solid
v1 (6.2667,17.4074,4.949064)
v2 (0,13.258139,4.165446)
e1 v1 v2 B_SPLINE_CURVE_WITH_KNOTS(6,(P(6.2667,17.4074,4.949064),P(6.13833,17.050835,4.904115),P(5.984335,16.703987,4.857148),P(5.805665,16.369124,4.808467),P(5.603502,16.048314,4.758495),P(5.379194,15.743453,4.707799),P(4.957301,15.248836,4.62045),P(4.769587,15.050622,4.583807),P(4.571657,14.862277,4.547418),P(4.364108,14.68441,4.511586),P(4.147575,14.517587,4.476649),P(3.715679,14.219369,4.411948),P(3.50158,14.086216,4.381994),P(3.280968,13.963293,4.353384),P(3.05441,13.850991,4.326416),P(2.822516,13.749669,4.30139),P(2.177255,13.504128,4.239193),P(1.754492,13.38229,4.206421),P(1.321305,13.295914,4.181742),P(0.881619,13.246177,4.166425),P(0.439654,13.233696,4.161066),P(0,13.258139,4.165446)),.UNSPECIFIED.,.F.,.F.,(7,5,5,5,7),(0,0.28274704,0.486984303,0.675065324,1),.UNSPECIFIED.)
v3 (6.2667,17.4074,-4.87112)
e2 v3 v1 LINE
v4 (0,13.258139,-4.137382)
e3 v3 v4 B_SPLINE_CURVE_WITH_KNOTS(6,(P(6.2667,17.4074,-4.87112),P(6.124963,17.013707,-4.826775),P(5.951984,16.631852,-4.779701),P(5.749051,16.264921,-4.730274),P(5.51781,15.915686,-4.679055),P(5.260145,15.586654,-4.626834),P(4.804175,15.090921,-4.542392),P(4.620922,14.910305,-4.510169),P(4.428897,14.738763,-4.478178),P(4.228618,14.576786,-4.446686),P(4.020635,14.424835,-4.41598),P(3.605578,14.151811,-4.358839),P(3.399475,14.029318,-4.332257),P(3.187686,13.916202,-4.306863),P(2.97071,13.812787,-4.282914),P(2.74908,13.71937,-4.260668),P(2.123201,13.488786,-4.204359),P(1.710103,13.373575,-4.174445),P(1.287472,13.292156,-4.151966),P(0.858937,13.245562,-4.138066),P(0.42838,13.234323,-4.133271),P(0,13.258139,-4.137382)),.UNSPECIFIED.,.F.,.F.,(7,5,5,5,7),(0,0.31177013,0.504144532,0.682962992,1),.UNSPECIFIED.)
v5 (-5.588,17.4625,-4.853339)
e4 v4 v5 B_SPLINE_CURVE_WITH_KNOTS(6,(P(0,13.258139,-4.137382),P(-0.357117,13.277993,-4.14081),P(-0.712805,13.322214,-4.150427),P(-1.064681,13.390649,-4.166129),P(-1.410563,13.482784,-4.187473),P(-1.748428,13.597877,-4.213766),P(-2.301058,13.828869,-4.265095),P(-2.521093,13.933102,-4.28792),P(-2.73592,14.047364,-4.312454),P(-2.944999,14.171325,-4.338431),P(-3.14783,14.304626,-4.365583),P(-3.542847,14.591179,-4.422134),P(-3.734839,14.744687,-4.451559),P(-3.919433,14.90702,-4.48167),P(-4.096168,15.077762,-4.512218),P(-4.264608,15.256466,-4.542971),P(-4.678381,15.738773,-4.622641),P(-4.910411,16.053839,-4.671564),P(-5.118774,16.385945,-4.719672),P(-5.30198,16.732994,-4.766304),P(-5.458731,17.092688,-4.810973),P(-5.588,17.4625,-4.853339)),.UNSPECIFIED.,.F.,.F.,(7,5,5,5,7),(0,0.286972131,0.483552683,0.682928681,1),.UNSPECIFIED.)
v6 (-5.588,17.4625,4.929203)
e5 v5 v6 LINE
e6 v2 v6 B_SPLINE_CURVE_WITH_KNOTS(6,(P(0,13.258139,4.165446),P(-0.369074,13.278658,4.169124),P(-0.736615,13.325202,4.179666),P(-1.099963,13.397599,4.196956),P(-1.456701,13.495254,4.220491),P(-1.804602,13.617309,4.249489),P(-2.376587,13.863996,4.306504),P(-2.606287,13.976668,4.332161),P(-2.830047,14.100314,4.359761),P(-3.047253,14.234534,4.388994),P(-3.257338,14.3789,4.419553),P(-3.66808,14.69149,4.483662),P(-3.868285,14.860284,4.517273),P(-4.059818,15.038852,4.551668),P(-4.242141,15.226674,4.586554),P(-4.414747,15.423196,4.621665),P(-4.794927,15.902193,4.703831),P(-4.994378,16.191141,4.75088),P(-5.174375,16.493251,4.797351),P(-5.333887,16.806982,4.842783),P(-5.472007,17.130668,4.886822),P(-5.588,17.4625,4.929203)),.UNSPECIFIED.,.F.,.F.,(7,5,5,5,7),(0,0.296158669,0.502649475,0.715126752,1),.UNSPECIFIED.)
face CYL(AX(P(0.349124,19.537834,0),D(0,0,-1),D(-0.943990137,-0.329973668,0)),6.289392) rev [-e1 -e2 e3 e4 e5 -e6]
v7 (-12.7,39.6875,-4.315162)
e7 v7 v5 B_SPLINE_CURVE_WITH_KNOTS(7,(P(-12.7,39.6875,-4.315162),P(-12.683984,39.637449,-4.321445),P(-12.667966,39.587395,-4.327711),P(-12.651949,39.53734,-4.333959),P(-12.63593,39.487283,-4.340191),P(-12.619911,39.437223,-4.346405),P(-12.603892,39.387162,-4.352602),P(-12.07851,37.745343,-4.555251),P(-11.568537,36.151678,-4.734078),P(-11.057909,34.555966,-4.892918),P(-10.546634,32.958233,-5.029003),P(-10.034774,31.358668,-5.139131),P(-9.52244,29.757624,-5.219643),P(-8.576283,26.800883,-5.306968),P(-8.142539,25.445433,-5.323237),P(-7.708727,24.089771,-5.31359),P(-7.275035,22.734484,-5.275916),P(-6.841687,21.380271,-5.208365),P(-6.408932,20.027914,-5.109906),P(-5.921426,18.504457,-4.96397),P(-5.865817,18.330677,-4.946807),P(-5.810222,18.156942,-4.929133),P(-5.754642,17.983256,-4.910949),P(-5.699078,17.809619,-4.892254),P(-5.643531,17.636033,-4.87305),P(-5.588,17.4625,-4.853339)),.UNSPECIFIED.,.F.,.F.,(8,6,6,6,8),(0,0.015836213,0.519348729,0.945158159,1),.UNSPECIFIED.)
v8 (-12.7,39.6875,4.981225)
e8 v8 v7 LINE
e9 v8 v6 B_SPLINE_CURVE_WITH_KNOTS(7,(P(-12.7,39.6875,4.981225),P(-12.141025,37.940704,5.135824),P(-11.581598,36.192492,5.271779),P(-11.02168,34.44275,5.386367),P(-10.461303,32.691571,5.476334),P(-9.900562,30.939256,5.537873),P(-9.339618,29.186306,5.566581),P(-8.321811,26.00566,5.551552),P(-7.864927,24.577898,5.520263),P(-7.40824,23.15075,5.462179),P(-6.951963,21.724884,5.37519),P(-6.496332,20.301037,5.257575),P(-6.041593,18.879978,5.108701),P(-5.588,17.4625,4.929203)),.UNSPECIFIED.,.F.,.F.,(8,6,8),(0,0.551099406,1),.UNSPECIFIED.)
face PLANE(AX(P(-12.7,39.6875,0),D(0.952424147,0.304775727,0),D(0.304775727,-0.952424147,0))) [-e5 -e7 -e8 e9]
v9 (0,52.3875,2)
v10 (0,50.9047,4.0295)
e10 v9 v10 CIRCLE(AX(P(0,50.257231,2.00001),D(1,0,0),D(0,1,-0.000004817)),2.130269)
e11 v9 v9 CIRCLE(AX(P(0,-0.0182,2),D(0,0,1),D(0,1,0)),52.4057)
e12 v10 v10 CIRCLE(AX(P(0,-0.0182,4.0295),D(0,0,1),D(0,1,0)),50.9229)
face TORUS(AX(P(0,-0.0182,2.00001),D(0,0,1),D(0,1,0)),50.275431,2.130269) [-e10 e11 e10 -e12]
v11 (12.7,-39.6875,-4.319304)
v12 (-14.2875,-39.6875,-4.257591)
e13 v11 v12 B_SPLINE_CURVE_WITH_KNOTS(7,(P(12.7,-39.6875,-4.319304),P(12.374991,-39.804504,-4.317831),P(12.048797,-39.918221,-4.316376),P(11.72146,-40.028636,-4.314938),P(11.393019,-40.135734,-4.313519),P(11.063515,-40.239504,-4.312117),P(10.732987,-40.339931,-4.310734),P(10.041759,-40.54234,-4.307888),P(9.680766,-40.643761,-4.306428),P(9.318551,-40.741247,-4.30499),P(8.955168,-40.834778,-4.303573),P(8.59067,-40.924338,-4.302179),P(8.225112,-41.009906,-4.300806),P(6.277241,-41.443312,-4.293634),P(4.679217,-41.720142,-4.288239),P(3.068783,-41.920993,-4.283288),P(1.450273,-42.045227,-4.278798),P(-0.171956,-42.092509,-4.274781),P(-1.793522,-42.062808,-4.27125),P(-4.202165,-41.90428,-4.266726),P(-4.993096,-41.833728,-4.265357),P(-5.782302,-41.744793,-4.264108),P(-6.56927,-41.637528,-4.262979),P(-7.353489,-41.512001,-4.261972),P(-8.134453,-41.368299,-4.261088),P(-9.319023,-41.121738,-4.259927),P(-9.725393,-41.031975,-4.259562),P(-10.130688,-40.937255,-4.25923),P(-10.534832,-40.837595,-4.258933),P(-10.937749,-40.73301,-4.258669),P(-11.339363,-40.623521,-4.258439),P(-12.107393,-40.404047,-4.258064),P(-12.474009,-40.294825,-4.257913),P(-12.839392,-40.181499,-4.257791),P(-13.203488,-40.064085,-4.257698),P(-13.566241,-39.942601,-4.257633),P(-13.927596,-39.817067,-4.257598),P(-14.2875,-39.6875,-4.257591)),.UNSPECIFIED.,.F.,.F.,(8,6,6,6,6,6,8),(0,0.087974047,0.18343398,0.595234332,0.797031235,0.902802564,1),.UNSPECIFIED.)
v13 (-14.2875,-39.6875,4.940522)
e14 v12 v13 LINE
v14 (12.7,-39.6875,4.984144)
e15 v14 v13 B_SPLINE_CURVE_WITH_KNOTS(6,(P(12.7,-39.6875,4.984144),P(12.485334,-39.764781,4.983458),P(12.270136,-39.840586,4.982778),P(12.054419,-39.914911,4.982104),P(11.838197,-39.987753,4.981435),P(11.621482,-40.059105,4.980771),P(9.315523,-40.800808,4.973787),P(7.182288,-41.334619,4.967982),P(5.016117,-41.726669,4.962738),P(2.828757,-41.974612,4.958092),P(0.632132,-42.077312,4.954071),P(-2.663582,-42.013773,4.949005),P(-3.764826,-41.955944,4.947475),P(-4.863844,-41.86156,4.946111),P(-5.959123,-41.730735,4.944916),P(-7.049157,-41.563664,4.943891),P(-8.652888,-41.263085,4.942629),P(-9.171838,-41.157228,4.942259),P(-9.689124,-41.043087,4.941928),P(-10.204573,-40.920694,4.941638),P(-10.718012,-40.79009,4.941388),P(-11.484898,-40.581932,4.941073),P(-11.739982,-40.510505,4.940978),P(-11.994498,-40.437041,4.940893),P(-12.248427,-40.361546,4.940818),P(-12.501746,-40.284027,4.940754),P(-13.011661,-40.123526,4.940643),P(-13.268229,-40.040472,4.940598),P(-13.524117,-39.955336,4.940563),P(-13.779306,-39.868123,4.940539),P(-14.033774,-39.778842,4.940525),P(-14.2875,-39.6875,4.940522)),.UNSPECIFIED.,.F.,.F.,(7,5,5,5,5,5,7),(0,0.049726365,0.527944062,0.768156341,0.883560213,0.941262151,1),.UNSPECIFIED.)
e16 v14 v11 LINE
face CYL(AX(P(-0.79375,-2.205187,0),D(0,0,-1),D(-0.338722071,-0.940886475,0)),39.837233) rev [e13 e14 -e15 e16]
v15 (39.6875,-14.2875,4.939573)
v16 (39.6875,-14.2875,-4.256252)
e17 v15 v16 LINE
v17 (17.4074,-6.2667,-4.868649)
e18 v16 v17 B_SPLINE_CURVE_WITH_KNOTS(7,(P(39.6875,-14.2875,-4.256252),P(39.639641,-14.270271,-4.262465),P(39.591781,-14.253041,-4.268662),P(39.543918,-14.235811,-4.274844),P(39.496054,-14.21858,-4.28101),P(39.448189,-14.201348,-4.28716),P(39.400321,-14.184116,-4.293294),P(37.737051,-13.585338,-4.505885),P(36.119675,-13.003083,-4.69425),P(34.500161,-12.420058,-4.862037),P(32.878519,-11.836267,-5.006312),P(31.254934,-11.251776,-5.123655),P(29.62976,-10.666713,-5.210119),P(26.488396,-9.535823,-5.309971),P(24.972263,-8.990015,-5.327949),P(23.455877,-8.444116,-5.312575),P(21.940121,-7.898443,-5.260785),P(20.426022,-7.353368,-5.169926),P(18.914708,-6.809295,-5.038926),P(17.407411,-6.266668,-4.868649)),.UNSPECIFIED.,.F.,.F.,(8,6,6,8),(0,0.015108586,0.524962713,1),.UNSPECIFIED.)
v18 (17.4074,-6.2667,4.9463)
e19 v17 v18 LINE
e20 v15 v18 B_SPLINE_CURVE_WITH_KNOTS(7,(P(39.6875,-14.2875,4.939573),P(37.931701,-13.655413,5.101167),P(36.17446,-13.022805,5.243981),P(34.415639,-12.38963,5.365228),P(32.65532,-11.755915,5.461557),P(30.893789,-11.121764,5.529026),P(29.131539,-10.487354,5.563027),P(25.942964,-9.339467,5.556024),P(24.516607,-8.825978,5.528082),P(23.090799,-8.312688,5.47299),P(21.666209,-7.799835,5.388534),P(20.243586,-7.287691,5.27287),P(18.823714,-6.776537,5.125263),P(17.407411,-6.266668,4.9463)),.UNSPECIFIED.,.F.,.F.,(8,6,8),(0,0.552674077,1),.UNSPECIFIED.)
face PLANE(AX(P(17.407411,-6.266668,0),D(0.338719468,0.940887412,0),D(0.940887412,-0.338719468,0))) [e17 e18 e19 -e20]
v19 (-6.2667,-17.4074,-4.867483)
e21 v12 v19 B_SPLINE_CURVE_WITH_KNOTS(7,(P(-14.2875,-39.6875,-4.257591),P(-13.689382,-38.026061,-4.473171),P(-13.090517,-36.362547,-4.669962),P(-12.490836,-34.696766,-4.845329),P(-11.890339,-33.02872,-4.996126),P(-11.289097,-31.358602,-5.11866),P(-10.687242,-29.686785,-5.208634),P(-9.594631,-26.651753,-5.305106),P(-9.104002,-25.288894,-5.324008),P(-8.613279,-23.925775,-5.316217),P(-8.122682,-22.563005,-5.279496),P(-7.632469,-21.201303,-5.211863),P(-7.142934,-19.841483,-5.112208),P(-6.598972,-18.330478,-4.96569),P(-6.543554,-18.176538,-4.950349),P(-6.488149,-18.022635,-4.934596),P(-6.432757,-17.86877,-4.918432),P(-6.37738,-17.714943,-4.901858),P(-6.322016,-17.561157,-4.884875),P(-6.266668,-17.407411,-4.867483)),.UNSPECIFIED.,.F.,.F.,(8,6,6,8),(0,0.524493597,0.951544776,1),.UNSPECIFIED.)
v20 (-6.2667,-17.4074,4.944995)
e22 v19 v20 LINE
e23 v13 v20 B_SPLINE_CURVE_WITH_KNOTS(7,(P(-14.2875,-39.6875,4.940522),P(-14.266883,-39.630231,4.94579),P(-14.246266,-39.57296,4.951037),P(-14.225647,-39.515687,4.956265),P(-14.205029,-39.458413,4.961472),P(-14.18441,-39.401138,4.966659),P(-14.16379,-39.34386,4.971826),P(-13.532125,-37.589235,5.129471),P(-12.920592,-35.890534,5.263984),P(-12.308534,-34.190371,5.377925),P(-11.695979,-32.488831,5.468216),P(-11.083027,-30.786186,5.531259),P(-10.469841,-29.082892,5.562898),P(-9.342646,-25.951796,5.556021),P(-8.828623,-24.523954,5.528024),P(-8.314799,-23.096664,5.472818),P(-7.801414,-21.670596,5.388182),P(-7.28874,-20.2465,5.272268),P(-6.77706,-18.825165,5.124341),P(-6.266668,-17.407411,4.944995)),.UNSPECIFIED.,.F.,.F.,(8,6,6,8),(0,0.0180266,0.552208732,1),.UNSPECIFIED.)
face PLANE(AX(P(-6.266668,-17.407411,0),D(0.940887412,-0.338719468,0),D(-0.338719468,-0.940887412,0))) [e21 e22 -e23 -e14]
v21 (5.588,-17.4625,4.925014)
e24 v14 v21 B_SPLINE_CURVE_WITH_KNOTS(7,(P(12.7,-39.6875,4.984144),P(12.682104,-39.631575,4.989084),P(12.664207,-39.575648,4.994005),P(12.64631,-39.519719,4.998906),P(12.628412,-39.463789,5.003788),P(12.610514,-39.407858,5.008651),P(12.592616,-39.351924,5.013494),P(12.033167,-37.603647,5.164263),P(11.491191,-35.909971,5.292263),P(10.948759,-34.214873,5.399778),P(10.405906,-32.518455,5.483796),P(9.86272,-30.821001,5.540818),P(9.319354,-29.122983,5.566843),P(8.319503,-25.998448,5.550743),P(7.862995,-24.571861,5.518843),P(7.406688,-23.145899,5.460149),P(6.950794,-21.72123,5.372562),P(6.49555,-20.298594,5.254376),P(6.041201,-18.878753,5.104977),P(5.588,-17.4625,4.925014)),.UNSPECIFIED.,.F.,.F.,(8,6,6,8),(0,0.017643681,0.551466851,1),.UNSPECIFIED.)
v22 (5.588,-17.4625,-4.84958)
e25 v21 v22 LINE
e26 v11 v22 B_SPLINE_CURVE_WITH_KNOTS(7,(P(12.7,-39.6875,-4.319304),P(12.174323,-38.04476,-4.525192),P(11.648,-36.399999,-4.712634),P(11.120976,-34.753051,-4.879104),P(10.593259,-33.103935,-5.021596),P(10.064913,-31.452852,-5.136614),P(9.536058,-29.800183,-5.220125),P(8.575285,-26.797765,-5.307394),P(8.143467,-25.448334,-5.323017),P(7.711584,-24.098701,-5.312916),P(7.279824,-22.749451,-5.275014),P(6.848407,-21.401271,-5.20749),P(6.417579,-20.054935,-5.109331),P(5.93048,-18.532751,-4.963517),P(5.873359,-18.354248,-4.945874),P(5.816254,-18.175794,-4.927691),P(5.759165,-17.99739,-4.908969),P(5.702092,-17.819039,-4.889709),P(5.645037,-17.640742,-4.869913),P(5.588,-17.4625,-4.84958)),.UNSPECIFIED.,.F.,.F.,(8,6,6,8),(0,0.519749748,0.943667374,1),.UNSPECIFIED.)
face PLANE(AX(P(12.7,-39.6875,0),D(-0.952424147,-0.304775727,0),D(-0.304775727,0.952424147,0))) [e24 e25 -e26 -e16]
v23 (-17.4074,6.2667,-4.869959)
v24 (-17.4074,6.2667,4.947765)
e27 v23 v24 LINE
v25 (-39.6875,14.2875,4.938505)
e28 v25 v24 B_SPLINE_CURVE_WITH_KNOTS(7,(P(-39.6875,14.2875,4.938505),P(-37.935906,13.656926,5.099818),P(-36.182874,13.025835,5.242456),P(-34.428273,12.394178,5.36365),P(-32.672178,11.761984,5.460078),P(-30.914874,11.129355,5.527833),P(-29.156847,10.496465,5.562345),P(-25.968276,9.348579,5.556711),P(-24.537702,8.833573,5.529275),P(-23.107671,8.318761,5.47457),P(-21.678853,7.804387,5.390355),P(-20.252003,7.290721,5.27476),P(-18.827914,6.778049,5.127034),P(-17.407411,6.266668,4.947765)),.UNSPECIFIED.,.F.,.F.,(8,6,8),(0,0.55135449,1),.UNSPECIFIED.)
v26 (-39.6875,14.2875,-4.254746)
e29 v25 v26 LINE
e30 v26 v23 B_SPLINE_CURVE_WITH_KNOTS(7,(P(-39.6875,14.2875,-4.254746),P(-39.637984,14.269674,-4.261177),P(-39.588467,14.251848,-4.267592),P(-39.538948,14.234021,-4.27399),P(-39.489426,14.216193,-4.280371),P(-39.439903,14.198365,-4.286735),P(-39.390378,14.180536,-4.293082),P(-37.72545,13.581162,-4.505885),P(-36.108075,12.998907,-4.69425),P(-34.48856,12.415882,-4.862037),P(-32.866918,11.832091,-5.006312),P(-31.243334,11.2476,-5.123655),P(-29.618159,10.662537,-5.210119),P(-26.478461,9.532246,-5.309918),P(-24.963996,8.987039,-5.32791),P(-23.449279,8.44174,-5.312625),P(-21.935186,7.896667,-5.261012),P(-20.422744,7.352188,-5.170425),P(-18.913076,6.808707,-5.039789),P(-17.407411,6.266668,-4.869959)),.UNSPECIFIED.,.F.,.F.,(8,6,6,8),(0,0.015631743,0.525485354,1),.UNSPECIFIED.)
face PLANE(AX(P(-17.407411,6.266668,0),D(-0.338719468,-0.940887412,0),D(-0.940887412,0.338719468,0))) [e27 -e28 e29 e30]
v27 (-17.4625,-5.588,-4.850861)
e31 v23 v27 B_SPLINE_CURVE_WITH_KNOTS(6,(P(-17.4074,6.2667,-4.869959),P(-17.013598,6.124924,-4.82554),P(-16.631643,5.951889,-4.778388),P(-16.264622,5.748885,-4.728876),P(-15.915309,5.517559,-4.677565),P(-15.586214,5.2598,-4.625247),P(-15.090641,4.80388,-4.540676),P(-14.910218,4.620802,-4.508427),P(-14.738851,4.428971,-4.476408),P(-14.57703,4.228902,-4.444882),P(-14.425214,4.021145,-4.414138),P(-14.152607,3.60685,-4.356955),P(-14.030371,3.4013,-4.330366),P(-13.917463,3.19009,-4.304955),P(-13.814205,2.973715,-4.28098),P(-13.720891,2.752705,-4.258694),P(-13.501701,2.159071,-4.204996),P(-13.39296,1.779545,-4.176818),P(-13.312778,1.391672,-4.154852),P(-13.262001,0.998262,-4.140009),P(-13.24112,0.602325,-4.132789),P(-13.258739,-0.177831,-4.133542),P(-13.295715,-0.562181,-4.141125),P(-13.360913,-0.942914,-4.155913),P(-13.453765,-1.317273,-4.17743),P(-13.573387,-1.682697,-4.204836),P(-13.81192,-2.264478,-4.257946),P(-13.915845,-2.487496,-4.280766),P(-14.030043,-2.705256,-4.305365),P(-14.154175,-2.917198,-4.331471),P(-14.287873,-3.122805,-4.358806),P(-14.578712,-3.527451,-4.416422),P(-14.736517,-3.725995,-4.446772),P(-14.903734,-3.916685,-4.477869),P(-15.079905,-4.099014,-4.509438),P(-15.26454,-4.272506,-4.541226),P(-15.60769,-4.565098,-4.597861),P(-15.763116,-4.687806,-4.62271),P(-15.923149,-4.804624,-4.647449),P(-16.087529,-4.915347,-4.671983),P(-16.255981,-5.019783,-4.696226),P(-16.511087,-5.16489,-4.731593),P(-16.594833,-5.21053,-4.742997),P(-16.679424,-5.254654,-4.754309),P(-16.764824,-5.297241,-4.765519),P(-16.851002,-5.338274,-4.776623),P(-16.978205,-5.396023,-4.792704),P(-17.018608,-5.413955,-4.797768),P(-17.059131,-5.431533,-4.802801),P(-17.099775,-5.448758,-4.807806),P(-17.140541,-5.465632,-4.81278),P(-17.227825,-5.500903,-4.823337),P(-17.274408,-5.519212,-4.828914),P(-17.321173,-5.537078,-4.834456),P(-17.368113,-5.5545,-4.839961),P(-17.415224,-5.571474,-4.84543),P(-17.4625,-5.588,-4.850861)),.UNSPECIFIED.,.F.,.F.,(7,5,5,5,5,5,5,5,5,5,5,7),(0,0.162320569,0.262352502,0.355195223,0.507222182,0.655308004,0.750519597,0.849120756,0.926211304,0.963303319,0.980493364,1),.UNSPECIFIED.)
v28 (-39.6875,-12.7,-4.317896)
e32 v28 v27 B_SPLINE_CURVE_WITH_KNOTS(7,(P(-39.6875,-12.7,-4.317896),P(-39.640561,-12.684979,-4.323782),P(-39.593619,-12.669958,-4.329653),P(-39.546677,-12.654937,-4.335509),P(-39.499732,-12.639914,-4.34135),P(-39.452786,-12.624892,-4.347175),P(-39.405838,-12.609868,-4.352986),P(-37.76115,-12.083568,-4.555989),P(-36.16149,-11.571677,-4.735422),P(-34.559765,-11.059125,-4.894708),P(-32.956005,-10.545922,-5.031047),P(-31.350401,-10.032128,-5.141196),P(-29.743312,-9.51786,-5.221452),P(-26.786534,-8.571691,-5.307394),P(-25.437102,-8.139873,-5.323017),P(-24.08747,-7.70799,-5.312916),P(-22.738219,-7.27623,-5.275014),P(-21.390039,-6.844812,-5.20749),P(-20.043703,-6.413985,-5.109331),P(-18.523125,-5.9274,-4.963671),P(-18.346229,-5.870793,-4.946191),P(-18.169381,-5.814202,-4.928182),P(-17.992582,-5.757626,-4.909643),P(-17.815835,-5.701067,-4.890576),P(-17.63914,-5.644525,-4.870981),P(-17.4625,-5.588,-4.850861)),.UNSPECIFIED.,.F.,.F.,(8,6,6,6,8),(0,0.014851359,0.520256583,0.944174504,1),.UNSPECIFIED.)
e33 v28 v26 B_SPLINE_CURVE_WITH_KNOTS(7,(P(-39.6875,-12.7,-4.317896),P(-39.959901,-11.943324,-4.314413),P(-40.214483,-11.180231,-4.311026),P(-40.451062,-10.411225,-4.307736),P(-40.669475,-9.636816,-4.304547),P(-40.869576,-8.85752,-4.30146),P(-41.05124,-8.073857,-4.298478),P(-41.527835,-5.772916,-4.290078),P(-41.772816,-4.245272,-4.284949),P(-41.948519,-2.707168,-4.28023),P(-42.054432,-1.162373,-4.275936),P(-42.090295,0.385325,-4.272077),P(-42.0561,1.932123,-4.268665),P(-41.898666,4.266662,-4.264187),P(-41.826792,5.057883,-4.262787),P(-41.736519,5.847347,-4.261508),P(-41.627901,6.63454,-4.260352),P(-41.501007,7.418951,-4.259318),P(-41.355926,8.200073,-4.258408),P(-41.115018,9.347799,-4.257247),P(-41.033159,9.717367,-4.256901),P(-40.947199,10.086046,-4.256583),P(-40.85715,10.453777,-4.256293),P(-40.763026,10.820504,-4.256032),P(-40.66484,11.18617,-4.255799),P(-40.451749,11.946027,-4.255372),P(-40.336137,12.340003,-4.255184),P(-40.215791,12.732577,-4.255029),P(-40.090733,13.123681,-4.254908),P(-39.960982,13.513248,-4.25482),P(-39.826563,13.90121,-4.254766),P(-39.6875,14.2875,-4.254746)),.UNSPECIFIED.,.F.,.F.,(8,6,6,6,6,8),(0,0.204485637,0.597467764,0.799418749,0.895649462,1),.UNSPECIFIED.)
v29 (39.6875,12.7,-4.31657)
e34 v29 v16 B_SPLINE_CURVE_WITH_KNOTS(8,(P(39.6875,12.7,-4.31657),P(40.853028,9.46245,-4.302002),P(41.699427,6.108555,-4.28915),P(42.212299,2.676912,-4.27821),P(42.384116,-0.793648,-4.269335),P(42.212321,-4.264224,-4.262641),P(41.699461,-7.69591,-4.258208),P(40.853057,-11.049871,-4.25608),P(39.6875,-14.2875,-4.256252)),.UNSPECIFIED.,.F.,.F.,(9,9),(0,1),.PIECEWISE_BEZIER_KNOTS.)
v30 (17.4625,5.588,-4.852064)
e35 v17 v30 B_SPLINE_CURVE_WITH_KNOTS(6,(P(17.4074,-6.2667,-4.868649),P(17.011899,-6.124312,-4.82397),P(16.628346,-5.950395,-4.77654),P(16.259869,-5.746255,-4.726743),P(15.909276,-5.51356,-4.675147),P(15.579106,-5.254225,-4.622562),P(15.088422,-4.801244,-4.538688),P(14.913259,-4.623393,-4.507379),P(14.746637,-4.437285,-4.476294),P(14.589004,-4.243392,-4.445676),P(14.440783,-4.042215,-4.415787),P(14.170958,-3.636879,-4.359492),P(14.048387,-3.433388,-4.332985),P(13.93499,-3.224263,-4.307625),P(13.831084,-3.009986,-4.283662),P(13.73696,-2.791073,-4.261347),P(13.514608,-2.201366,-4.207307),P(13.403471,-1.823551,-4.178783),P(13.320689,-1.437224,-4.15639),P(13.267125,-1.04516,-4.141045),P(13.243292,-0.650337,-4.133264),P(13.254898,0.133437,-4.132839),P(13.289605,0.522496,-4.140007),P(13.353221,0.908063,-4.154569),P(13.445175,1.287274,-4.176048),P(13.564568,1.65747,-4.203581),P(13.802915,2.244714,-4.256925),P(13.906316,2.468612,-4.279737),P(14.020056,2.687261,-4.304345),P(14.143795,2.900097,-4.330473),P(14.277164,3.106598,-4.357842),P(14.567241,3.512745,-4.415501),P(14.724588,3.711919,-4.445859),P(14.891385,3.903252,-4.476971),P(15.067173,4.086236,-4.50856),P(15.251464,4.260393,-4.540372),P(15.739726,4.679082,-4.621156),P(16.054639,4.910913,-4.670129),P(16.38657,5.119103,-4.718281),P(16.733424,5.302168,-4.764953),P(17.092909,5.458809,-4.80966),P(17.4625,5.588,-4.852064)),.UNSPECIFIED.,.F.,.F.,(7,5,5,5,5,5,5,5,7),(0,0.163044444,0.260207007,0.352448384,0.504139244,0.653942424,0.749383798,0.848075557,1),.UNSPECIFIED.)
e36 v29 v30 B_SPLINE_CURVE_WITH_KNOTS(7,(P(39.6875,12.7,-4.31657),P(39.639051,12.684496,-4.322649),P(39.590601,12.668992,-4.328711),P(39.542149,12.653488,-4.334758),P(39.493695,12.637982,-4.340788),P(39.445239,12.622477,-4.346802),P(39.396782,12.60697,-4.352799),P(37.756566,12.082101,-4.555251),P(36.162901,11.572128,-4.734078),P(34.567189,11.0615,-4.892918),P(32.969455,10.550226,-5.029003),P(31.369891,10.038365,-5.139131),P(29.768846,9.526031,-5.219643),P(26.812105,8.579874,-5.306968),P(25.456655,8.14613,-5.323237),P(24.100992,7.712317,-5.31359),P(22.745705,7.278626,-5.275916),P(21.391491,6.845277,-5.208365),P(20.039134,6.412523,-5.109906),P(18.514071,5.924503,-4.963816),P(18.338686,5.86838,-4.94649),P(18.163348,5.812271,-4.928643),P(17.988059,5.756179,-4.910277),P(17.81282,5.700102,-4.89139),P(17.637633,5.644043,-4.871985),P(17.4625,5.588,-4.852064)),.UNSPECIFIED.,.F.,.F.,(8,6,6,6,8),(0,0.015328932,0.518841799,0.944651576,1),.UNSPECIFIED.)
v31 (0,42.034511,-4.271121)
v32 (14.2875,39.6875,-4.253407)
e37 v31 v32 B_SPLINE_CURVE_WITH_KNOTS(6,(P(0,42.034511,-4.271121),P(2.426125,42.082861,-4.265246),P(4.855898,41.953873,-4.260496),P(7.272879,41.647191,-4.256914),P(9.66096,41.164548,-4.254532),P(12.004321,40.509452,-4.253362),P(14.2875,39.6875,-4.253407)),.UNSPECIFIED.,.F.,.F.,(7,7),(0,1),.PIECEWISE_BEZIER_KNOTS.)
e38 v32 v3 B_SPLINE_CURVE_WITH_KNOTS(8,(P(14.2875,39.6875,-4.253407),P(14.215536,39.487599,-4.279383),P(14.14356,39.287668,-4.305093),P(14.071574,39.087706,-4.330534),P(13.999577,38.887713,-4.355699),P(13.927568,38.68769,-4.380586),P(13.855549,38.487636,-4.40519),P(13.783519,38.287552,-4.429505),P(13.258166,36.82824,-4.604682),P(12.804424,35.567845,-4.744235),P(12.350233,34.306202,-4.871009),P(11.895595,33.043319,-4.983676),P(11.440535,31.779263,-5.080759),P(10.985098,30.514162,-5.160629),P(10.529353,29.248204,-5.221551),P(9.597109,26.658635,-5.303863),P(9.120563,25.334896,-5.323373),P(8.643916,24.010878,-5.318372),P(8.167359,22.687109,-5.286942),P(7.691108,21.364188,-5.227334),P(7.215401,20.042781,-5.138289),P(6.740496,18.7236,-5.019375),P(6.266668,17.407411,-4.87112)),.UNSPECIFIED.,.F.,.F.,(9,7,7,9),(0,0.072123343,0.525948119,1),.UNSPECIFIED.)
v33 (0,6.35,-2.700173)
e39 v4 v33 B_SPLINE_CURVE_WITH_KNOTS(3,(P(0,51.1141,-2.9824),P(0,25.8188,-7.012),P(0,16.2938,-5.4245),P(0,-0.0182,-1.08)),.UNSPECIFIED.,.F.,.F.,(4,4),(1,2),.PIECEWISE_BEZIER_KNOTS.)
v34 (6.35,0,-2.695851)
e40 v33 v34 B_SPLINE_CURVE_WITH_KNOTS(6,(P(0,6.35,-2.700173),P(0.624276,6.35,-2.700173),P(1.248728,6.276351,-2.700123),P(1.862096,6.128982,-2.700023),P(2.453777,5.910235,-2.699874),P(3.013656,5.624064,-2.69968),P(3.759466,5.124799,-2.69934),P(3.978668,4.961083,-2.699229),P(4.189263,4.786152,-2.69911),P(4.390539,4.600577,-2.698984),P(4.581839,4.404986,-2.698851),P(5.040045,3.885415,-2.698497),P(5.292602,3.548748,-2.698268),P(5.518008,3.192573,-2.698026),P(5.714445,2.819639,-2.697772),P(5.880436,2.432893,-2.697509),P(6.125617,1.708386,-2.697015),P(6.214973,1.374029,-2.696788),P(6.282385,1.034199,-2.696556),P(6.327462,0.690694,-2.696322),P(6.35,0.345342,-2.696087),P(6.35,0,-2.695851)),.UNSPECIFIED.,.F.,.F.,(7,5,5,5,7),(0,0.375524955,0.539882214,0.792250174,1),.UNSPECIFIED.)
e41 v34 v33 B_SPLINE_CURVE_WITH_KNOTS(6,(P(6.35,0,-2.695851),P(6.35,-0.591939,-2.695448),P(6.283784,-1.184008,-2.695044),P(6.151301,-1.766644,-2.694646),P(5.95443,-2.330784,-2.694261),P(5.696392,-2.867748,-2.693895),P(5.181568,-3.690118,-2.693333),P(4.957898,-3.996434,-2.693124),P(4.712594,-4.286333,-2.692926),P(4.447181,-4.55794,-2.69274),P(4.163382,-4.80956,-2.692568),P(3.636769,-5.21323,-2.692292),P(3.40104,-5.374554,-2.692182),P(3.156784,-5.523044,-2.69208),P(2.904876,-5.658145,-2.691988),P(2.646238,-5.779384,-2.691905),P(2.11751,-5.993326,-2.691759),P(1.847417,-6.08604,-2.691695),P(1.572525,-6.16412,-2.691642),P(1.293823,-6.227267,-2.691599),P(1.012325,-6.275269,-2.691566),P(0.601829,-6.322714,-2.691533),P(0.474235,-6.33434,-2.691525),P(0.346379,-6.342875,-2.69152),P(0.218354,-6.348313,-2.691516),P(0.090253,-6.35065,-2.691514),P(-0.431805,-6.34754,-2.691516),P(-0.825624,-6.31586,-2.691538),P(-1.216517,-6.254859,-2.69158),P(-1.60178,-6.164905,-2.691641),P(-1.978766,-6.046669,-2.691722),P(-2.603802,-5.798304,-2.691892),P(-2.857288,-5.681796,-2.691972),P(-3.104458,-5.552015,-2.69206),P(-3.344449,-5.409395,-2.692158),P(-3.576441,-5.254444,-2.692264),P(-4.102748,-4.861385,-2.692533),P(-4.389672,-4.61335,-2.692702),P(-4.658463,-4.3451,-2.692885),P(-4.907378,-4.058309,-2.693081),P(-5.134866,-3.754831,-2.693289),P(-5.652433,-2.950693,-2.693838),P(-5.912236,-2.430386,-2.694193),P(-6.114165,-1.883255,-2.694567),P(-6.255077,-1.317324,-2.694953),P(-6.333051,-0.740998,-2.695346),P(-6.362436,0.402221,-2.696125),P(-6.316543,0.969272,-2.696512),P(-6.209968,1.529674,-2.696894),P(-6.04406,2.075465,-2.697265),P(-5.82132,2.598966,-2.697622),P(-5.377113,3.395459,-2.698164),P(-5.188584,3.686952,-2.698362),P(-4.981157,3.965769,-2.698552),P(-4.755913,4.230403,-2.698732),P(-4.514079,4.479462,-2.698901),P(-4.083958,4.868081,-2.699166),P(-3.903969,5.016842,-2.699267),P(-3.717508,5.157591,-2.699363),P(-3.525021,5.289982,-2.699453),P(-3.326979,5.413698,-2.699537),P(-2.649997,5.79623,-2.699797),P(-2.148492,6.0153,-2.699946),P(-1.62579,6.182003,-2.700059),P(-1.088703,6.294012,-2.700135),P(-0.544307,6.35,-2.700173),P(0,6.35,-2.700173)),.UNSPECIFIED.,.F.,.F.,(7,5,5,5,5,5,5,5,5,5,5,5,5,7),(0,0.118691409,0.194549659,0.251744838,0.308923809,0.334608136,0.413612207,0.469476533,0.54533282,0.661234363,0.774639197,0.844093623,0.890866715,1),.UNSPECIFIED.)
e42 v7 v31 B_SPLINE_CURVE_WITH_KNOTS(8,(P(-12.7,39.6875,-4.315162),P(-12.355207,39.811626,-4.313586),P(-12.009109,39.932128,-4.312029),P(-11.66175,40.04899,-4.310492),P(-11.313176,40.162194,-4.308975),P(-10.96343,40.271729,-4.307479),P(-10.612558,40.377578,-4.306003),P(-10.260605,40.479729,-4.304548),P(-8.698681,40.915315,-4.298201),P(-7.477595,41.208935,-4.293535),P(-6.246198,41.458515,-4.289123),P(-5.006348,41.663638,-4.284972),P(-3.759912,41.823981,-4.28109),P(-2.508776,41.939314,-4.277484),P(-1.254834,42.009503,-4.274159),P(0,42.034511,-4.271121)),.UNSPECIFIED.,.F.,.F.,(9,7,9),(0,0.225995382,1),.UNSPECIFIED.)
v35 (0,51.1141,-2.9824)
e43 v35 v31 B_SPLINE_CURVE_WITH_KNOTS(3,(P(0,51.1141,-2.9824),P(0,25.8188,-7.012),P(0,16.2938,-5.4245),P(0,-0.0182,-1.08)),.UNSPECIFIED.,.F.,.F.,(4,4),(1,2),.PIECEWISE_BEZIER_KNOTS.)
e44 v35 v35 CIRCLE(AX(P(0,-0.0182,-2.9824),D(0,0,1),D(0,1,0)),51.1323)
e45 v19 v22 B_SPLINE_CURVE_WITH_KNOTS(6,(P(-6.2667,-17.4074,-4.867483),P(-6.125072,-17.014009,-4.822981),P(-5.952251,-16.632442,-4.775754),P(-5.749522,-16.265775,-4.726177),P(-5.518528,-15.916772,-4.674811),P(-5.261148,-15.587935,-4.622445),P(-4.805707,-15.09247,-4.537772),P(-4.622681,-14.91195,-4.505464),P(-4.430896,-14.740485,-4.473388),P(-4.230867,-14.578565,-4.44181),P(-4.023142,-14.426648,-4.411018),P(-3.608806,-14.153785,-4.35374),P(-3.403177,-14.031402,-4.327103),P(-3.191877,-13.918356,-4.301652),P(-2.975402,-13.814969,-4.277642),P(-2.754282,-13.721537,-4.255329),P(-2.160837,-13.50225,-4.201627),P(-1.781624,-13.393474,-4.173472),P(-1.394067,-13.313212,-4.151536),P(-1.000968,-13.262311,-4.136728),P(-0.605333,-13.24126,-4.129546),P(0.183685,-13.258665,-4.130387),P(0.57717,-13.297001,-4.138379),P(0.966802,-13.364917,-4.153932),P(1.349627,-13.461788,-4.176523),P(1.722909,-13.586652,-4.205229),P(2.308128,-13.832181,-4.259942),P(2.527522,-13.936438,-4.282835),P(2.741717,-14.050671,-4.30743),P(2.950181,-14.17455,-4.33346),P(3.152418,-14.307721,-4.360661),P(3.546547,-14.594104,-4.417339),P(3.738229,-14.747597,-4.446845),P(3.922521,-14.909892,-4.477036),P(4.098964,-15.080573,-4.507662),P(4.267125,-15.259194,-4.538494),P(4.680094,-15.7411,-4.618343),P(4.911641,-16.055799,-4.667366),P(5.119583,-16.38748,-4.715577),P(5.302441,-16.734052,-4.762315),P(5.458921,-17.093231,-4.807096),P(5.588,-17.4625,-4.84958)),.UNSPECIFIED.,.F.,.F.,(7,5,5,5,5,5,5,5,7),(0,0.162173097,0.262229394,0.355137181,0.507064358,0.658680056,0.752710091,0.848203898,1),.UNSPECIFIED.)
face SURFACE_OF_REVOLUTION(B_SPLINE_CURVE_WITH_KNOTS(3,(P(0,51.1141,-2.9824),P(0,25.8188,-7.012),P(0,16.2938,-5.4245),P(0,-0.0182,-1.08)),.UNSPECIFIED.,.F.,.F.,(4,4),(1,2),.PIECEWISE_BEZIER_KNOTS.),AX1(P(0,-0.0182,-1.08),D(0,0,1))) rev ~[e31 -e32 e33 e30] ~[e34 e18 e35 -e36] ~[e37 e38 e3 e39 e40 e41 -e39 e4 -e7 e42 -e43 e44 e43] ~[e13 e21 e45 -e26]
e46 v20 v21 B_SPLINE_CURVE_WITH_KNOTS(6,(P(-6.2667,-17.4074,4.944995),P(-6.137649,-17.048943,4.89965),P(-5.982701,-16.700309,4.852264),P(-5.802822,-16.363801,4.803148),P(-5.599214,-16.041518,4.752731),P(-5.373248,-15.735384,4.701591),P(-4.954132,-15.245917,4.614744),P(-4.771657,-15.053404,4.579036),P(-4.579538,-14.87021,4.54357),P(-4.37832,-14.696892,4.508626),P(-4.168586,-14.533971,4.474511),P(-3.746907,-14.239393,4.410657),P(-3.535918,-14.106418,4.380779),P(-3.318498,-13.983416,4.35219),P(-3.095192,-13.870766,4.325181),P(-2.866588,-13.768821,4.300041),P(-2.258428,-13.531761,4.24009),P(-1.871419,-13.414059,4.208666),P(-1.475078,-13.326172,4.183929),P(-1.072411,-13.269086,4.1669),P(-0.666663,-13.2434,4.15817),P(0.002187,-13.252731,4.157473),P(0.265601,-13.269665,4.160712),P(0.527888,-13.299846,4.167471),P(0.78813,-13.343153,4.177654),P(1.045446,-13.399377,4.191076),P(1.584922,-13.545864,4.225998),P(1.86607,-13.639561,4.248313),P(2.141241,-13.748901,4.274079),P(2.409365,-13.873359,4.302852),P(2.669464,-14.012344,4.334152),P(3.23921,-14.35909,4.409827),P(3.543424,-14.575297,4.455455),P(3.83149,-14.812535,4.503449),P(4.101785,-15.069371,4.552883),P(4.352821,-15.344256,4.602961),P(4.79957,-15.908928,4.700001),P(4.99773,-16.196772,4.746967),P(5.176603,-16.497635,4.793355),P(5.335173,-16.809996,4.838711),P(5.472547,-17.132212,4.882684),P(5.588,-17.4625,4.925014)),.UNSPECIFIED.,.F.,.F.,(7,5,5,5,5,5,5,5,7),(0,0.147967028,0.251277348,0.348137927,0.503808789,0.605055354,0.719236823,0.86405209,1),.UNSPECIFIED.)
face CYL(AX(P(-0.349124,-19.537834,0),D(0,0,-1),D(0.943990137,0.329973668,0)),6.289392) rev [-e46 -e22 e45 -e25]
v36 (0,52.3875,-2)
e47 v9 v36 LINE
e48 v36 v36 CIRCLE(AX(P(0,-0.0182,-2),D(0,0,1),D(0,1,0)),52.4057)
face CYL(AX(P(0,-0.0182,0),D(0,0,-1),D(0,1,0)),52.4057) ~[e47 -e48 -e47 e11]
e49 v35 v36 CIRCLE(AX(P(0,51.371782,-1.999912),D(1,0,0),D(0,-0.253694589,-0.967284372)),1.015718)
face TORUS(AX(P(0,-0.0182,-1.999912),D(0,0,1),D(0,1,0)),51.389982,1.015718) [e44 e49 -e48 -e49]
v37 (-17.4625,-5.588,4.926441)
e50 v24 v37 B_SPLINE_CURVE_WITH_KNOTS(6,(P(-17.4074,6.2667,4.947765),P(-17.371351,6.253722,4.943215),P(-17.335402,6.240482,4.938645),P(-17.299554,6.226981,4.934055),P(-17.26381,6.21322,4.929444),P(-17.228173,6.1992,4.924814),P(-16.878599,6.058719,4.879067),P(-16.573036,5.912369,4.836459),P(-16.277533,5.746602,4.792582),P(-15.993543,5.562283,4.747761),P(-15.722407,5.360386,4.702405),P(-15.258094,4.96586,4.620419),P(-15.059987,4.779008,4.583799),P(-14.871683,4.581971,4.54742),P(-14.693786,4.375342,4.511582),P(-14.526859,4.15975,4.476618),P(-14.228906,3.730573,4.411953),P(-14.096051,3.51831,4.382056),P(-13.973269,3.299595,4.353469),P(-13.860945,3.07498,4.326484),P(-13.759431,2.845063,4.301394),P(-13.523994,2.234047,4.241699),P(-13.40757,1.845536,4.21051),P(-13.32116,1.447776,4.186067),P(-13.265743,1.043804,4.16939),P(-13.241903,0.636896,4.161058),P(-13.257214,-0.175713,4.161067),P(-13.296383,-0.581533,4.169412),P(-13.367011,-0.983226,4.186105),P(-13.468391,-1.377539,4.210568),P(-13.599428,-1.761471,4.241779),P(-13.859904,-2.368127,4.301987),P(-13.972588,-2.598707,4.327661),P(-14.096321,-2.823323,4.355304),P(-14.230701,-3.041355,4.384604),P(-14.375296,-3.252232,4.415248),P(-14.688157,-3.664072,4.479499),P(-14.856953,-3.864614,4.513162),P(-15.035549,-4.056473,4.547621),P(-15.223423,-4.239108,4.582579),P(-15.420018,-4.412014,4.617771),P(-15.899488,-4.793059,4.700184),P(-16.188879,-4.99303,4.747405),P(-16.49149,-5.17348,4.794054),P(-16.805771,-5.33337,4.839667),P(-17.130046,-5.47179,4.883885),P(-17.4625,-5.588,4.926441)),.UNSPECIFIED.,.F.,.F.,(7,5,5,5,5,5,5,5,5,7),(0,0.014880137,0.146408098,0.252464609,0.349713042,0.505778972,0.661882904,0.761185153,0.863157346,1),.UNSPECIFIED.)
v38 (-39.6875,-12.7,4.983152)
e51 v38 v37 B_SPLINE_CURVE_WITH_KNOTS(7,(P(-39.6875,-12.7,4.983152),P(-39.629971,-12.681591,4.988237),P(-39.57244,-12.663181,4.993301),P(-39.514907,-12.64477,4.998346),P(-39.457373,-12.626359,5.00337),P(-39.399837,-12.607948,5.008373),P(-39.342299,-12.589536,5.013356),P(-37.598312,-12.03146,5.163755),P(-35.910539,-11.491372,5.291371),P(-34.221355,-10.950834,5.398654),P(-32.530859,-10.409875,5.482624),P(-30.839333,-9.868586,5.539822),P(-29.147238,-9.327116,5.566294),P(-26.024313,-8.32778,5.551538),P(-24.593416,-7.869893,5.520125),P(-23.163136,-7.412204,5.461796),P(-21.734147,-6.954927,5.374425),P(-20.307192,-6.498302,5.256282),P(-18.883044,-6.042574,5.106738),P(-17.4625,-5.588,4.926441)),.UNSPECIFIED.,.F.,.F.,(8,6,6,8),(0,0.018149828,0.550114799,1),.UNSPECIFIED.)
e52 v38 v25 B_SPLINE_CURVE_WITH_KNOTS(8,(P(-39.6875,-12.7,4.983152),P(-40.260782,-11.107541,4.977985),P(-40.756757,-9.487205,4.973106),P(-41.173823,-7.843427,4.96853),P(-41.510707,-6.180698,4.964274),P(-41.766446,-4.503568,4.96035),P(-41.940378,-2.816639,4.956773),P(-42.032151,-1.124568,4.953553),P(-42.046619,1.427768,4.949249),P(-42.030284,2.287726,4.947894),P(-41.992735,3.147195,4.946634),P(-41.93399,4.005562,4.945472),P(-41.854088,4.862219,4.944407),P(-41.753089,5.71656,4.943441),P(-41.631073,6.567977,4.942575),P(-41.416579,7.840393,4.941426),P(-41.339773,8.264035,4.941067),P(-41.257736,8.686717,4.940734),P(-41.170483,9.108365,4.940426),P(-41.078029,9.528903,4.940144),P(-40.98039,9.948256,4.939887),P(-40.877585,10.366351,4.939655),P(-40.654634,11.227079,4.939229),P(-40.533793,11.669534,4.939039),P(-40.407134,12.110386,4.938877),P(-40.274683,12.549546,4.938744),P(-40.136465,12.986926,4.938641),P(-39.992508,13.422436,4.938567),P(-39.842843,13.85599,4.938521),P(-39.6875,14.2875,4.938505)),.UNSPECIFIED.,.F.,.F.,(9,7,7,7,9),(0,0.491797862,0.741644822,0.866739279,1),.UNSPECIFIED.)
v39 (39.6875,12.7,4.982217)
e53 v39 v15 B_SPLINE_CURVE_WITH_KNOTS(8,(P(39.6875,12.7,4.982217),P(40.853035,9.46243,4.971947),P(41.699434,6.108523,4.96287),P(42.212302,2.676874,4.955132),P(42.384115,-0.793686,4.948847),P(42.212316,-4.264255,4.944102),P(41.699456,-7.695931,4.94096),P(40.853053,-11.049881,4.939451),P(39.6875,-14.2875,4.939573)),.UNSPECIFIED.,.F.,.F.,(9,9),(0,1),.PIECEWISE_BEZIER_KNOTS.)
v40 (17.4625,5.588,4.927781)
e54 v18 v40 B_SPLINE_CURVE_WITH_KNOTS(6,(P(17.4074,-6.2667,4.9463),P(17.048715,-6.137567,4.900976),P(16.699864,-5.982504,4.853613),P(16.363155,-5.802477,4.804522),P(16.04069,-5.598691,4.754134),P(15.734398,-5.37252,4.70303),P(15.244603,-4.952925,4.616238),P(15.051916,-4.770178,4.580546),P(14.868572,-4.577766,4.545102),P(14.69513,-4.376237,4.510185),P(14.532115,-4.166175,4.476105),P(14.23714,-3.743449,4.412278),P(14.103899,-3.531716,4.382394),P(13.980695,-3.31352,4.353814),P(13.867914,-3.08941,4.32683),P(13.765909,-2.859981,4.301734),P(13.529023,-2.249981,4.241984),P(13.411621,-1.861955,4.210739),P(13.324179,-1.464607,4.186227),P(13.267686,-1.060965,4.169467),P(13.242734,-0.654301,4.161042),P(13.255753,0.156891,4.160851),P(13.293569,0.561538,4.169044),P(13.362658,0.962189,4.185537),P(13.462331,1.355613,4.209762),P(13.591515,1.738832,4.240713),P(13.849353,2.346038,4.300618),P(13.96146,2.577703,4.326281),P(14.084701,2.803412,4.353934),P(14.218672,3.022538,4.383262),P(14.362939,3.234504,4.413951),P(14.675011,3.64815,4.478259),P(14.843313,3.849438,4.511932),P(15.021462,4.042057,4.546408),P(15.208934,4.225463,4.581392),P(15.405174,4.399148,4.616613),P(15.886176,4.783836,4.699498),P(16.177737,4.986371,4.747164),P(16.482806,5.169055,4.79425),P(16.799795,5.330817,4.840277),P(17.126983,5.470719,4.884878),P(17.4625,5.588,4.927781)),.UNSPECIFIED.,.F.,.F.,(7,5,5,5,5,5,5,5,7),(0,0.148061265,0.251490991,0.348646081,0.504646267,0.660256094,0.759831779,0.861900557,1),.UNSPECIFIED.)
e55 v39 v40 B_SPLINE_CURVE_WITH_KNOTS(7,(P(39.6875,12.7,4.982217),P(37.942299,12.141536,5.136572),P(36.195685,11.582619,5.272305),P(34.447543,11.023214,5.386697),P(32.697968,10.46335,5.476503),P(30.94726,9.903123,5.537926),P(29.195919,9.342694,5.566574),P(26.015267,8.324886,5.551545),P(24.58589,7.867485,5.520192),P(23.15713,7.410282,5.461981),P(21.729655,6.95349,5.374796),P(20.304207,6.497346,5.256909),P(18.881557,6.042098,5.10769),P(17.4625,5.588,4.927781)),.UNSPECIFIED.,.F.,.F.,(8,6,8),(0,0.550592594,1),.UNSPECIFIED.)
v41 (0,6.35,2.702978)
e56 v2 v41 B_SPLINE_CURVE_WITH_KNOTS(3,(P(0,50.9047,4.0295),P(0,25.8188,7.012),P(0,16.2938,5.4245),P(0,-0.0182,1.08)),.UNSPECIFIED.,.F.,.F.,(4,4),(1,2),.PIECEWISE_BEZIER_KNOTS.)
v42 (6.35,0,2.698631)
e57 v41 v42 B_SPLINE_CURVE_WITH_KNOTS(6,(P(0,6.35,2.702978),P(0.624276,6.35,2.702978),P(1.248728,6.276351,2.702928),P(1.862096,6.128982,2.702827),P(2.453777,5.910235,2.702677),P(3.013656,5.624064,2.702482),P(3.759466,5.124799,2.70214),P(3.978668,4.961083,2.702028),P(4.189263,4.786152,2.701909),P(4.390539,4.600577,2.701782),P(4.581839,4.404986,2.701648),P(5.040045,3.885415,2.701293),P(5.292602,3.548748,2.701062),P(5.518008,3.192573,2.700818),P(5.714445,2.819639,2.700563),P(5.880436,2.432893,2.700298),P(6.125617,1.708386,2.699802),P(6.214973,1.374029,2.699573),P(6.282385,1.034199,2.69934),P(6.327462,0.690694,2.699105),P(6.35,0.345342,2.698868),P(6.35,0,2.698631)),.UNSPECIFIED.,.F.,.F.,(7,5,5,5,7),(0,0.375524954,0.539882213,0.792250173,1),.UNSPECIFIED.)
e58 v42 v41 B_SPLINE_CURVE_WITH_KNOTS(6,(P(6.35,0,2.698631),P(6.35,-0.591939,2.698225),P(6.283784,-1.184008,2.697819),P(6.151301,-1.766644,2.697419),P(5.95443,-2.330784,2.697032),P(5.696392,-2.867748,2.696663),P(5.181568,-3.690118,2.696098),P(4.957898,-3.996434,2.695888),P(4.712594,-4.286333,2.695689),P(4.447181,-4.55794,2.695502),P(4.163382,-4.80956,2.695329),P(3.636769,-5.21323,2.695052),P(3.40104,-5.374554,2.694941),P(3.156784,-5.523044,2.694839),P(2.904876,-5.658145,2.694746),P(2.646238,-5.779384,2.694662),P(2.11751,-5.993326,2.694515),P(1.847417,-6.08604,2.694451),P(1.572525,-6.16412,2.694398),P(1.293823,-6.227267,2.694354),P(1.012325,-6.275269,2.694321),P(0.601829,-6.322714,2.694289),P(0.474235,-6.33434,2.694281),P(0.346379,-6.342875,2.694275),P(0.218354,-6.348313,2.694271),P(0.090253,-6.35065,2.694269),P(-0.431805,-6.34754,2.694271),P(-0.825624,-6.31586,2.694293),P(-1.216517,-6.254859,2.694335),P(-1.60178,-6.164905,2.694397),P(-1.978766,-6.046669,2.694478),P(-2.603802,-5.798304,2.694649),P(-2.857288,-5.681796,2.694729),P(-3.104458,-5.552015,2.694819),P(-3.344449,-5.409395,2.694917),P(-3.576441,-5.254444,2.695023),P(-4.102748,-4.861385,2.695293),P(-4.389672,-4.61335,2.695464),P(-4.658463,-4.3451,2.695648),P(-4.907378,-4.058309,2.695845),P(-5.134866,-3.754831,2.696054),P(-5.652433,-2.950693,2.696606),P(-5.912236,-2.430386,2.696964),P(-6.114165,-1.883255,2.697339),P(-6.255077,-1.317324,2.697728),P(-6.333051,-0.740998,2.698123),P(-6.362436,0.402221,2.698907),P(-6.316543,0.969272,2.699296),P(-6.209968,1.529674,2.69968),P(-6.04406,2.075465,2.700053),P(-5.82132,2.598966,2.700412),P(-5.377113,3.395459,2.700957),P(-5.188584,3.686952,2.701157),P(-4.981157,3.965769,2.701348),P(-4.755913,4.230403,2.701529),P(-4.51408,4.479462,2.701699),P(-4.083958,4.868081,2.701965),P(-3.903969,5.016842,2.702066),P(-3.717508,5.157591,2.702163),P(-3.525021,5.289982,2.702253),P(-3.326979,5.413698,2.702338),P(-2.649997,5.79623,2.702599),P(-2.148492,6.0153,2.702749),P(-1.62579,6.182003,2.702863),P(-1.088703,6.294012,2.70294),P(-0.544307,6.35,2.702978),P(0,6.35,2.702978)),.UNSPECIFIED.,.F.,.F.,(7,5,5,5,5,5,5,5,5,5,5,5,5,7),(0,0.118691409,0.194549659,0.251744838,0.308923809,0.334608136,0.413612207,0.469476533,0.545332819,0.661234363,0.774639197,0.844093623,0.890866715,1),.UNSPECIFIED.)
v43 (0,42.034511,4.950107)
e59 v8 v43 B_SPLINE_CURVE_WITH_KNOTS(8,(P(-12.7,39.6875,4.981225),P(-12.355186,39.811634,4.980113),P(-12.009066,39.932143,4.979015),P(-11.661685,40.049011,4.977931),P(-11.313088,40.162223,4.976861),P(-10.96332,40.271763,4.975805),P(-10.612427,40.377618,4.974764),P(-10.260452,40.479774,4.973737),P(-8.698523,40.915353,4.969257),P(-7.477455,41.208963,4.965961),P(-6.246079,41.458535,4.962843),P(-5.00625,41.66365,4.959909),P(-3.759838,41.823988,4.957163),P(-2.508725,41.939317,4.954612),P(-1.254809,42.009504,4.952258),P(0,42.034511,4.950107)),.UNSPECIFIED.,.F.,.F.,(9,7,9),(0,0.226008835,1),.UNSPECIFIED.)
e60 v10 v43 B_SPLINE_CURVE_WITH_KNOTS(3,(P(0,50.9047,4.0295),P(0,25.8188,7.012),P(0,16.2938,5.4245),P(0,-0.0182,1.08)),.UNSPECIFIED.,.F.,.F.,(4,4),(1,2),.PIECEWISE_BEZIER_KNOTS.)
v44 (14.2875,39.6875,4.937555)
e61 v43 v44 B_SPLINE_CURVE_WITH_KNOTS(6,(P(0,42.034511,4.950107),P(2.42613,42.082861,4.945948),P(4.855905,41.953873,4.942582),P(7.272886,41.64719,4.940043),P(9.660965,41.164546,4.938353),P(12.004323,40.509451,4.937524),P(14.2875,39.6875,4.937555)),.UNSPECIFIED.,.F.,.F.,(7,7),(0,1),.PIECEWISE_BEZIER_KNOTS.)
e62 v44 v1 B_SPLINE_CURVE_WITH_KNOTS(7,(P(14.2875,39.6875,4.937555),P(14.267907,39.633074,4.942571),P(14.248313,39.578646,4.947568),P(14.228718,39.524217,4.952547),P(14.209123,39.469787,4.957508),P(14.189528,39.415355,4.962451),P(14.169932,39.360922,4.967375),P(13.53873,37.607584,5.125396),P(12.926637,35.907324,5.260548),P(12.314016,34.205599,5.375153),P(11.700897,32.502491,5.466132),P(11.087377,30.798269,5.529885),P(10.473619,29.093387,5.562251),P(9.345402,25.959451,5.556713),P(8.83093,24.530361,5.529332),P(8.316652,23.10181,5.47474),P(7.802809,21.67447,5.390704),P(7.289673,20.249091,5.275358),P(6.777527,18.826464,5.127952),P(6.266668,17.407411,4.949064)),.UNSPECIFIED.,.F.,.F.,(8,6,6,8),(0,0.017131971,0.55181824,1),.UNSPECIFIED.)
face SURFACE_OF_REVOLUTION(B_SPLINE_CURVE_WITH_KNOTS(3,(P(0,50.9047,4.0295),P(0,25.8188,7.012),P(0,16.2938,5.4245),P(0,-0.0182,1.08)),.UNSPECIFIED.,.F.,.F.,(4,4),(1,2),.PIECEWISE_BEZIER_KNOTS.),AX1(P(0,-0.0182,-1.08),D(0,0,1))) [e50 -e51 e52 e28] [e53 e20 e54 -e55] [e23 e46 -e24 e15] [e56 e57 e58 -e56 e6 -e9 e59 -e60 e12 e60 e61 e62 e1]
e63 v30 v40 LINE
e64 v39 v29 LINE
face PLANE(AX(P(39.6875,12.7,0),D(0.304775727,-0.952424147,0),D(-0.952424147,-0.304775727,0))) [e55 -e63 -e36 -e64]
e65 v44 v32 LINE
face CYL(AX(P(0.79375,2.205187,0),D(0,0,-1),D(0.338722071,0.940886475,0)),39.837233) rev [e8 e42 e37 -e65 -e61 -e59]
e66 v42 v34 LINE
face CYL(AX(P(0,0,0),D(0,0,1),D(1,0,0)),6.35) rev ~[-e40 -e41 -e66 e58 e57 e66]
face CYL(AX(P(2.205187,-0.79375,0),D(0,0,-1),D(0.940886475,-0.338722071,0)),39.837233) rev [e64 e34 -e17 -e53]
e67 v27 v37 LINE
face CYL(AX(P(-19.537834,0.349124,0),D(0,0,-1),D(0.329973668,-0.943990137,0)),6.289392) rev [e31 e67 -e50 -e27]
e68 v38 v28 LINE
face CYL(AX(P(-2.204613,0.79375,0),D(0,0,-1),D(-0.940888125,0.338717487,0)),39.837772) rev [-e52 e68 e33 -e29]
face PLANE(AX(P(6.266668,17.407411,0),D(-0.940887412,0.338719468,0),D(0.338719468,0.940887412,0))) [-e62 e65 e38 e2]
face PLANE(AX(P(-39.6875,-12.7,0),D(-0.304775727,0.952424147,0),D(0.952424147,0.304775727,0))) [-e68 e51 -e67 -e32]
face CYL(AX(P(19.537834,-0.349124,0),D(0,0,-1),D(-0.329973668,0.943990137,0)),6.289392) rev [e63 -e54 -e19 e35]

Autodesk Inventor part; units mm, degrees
ref_plane "YZ Plane" through (0, 0, 0) normal (1, 0, 0) x (0, 1, 0)
ref_plane "XZ Plane" through (0, 0, 0) normal (0, 1, 0) x (-1, 0, 0)
ref_plane "XY Plane" through (0, 0, 0) normal (0, 0, 1) x (1, 0, 0)
sketch "Sketch1" plane through (0, 0, 0) normal (1, 0, 0) x (0, 1, 0)
  line L0 (52.3875, 0) -> (52.3875, 2)
  line L1 (52.3875, 0) -> (52.3875, -2)
  arc A0 (52.3875, 2) -> (50.9047, 4.0295) centre (50.2572, 2) ccw
  arc A1 (51.1141, -2.9824) -> (52.3875, -2) centre (51.3718, -2) ccw
  line L2 (50.9047, 4.0295) -> (25.8188, 7.012) construction
  line L3 (25.8188, 7.012) -> (16.2938, 5.4245) construction
  line L4 (16.2938, 5.4245) -> (-0.0182, 1.08) construction
  spline S0 degree 3 poles (50.9047, 4.0295) (25.8188, 7.012) (16.2938, 5.4245) (-0.0182, 1.08) knots 1 1 1 1 2 2 2 2
  line L5 (0, 0) -> (52.3875, 0)
  line L6 (51.1141, -2.9824) -> (25.8188, -7.012) construction
  line L7 (25.8188, -7.012) -> (16.2938, -5.4245) construction
  line L8 (16.2938, -5.4245) -> (-0.0182, -1.08) construction
  spline S1 degree 3 poles (51.1141, -2.9824) (25.8188, -7.012) (16.2938, -5.4245) (-0.0182, -1.08) knots 1 1 1 1 2 2 2 2
  line L9 (-0.0182, -1.08) -> (-0.0182, 1.08)
  dimension "d0" = 2
  dimension "d1" = 2
revolve "Revolution1" add sketch "Sketch1" angle 360 about axis through (0, -0.0182, -1.08) along (0, 0, 1)
sketch "Sketch2" plane through (0, 0, 0) normal (0, 0, 1) x (1, 0, 0)
  circle A0 centre (0, 0) radius 6.35
extrude "Extrusion1" cut sketch "Sketch2" along normal mid plane 105.25
sketch "Sketch3" plane through (0, 0, 0) normal (0, 0, 1) x (1, 0, 0)
  line L0 (0, 0) -> (-14.2875, -39.6875)
  arc A0 (-14.2875, -39.6875) -> (12.7, -39.6875) centre (-0.7937, -2.2049) ccw
  line L1 (12.7, -39.6875) -> (0, 0)
  line L2 (0, 0) -> (-6.2667, -17.4074)
  line L3 (5.588, -17.4625) -> (0, 0)
  arc A1 (5.588, -17.4625) -> (-6.2667, -17.4074) centre (-0.3491, -19.5378) ccw
  line L4 (39.6875, 12.7) -> (0, 0)
  arc A2 (39.6875, -14.2875) -> (39.6875, 12.7) centre (2.2049, -0.7937) ccw
  line L5 (0, 0) -> (39.6875, -14.2875)
  arc A3 (17.4625, 5.588) -> (17.4074, -6.2667) centre (19.5378, -0.3491) ccw
  line L6 (-12.7, 39.6875) -> (0, 0)
  arc A4 (14.2875, 39.6875) -> (-12.7, 39.6875) centre (0.7937, 2.2049) ccw
  line L7 (0, 0) -> (14.2875, 39.6875)
  arc A5 (-5.588, 17.4625) -> (6.2667, 17.4074) centre (0.3491, 19.5378) ccw
  line L8 (-39.6875, -12.7) -> (0, 0)
  arc A6 (-39.6875, 14.2875) -> (-39.6875, -12.7) centre (-2.2049, 0.7938) ccw
  line L9 (0, 0) -> (-39.6875, 14.2875)
  arc A7 (-17.4625, -5.588) -> (-17.4074, 6.2667) centre (-19.5378, 0.3491) ccw
  dimension "d13" = 360
extrude "Extrusion3" cut sketch "Sketch3" along normal mid plane 105.25 contours A1 L1 A0 L0 | L4 A2 L5 A3 | L6 A4 L7 A5 | L8 A6 L9 A7
properties part number "Anti tip wheels"
